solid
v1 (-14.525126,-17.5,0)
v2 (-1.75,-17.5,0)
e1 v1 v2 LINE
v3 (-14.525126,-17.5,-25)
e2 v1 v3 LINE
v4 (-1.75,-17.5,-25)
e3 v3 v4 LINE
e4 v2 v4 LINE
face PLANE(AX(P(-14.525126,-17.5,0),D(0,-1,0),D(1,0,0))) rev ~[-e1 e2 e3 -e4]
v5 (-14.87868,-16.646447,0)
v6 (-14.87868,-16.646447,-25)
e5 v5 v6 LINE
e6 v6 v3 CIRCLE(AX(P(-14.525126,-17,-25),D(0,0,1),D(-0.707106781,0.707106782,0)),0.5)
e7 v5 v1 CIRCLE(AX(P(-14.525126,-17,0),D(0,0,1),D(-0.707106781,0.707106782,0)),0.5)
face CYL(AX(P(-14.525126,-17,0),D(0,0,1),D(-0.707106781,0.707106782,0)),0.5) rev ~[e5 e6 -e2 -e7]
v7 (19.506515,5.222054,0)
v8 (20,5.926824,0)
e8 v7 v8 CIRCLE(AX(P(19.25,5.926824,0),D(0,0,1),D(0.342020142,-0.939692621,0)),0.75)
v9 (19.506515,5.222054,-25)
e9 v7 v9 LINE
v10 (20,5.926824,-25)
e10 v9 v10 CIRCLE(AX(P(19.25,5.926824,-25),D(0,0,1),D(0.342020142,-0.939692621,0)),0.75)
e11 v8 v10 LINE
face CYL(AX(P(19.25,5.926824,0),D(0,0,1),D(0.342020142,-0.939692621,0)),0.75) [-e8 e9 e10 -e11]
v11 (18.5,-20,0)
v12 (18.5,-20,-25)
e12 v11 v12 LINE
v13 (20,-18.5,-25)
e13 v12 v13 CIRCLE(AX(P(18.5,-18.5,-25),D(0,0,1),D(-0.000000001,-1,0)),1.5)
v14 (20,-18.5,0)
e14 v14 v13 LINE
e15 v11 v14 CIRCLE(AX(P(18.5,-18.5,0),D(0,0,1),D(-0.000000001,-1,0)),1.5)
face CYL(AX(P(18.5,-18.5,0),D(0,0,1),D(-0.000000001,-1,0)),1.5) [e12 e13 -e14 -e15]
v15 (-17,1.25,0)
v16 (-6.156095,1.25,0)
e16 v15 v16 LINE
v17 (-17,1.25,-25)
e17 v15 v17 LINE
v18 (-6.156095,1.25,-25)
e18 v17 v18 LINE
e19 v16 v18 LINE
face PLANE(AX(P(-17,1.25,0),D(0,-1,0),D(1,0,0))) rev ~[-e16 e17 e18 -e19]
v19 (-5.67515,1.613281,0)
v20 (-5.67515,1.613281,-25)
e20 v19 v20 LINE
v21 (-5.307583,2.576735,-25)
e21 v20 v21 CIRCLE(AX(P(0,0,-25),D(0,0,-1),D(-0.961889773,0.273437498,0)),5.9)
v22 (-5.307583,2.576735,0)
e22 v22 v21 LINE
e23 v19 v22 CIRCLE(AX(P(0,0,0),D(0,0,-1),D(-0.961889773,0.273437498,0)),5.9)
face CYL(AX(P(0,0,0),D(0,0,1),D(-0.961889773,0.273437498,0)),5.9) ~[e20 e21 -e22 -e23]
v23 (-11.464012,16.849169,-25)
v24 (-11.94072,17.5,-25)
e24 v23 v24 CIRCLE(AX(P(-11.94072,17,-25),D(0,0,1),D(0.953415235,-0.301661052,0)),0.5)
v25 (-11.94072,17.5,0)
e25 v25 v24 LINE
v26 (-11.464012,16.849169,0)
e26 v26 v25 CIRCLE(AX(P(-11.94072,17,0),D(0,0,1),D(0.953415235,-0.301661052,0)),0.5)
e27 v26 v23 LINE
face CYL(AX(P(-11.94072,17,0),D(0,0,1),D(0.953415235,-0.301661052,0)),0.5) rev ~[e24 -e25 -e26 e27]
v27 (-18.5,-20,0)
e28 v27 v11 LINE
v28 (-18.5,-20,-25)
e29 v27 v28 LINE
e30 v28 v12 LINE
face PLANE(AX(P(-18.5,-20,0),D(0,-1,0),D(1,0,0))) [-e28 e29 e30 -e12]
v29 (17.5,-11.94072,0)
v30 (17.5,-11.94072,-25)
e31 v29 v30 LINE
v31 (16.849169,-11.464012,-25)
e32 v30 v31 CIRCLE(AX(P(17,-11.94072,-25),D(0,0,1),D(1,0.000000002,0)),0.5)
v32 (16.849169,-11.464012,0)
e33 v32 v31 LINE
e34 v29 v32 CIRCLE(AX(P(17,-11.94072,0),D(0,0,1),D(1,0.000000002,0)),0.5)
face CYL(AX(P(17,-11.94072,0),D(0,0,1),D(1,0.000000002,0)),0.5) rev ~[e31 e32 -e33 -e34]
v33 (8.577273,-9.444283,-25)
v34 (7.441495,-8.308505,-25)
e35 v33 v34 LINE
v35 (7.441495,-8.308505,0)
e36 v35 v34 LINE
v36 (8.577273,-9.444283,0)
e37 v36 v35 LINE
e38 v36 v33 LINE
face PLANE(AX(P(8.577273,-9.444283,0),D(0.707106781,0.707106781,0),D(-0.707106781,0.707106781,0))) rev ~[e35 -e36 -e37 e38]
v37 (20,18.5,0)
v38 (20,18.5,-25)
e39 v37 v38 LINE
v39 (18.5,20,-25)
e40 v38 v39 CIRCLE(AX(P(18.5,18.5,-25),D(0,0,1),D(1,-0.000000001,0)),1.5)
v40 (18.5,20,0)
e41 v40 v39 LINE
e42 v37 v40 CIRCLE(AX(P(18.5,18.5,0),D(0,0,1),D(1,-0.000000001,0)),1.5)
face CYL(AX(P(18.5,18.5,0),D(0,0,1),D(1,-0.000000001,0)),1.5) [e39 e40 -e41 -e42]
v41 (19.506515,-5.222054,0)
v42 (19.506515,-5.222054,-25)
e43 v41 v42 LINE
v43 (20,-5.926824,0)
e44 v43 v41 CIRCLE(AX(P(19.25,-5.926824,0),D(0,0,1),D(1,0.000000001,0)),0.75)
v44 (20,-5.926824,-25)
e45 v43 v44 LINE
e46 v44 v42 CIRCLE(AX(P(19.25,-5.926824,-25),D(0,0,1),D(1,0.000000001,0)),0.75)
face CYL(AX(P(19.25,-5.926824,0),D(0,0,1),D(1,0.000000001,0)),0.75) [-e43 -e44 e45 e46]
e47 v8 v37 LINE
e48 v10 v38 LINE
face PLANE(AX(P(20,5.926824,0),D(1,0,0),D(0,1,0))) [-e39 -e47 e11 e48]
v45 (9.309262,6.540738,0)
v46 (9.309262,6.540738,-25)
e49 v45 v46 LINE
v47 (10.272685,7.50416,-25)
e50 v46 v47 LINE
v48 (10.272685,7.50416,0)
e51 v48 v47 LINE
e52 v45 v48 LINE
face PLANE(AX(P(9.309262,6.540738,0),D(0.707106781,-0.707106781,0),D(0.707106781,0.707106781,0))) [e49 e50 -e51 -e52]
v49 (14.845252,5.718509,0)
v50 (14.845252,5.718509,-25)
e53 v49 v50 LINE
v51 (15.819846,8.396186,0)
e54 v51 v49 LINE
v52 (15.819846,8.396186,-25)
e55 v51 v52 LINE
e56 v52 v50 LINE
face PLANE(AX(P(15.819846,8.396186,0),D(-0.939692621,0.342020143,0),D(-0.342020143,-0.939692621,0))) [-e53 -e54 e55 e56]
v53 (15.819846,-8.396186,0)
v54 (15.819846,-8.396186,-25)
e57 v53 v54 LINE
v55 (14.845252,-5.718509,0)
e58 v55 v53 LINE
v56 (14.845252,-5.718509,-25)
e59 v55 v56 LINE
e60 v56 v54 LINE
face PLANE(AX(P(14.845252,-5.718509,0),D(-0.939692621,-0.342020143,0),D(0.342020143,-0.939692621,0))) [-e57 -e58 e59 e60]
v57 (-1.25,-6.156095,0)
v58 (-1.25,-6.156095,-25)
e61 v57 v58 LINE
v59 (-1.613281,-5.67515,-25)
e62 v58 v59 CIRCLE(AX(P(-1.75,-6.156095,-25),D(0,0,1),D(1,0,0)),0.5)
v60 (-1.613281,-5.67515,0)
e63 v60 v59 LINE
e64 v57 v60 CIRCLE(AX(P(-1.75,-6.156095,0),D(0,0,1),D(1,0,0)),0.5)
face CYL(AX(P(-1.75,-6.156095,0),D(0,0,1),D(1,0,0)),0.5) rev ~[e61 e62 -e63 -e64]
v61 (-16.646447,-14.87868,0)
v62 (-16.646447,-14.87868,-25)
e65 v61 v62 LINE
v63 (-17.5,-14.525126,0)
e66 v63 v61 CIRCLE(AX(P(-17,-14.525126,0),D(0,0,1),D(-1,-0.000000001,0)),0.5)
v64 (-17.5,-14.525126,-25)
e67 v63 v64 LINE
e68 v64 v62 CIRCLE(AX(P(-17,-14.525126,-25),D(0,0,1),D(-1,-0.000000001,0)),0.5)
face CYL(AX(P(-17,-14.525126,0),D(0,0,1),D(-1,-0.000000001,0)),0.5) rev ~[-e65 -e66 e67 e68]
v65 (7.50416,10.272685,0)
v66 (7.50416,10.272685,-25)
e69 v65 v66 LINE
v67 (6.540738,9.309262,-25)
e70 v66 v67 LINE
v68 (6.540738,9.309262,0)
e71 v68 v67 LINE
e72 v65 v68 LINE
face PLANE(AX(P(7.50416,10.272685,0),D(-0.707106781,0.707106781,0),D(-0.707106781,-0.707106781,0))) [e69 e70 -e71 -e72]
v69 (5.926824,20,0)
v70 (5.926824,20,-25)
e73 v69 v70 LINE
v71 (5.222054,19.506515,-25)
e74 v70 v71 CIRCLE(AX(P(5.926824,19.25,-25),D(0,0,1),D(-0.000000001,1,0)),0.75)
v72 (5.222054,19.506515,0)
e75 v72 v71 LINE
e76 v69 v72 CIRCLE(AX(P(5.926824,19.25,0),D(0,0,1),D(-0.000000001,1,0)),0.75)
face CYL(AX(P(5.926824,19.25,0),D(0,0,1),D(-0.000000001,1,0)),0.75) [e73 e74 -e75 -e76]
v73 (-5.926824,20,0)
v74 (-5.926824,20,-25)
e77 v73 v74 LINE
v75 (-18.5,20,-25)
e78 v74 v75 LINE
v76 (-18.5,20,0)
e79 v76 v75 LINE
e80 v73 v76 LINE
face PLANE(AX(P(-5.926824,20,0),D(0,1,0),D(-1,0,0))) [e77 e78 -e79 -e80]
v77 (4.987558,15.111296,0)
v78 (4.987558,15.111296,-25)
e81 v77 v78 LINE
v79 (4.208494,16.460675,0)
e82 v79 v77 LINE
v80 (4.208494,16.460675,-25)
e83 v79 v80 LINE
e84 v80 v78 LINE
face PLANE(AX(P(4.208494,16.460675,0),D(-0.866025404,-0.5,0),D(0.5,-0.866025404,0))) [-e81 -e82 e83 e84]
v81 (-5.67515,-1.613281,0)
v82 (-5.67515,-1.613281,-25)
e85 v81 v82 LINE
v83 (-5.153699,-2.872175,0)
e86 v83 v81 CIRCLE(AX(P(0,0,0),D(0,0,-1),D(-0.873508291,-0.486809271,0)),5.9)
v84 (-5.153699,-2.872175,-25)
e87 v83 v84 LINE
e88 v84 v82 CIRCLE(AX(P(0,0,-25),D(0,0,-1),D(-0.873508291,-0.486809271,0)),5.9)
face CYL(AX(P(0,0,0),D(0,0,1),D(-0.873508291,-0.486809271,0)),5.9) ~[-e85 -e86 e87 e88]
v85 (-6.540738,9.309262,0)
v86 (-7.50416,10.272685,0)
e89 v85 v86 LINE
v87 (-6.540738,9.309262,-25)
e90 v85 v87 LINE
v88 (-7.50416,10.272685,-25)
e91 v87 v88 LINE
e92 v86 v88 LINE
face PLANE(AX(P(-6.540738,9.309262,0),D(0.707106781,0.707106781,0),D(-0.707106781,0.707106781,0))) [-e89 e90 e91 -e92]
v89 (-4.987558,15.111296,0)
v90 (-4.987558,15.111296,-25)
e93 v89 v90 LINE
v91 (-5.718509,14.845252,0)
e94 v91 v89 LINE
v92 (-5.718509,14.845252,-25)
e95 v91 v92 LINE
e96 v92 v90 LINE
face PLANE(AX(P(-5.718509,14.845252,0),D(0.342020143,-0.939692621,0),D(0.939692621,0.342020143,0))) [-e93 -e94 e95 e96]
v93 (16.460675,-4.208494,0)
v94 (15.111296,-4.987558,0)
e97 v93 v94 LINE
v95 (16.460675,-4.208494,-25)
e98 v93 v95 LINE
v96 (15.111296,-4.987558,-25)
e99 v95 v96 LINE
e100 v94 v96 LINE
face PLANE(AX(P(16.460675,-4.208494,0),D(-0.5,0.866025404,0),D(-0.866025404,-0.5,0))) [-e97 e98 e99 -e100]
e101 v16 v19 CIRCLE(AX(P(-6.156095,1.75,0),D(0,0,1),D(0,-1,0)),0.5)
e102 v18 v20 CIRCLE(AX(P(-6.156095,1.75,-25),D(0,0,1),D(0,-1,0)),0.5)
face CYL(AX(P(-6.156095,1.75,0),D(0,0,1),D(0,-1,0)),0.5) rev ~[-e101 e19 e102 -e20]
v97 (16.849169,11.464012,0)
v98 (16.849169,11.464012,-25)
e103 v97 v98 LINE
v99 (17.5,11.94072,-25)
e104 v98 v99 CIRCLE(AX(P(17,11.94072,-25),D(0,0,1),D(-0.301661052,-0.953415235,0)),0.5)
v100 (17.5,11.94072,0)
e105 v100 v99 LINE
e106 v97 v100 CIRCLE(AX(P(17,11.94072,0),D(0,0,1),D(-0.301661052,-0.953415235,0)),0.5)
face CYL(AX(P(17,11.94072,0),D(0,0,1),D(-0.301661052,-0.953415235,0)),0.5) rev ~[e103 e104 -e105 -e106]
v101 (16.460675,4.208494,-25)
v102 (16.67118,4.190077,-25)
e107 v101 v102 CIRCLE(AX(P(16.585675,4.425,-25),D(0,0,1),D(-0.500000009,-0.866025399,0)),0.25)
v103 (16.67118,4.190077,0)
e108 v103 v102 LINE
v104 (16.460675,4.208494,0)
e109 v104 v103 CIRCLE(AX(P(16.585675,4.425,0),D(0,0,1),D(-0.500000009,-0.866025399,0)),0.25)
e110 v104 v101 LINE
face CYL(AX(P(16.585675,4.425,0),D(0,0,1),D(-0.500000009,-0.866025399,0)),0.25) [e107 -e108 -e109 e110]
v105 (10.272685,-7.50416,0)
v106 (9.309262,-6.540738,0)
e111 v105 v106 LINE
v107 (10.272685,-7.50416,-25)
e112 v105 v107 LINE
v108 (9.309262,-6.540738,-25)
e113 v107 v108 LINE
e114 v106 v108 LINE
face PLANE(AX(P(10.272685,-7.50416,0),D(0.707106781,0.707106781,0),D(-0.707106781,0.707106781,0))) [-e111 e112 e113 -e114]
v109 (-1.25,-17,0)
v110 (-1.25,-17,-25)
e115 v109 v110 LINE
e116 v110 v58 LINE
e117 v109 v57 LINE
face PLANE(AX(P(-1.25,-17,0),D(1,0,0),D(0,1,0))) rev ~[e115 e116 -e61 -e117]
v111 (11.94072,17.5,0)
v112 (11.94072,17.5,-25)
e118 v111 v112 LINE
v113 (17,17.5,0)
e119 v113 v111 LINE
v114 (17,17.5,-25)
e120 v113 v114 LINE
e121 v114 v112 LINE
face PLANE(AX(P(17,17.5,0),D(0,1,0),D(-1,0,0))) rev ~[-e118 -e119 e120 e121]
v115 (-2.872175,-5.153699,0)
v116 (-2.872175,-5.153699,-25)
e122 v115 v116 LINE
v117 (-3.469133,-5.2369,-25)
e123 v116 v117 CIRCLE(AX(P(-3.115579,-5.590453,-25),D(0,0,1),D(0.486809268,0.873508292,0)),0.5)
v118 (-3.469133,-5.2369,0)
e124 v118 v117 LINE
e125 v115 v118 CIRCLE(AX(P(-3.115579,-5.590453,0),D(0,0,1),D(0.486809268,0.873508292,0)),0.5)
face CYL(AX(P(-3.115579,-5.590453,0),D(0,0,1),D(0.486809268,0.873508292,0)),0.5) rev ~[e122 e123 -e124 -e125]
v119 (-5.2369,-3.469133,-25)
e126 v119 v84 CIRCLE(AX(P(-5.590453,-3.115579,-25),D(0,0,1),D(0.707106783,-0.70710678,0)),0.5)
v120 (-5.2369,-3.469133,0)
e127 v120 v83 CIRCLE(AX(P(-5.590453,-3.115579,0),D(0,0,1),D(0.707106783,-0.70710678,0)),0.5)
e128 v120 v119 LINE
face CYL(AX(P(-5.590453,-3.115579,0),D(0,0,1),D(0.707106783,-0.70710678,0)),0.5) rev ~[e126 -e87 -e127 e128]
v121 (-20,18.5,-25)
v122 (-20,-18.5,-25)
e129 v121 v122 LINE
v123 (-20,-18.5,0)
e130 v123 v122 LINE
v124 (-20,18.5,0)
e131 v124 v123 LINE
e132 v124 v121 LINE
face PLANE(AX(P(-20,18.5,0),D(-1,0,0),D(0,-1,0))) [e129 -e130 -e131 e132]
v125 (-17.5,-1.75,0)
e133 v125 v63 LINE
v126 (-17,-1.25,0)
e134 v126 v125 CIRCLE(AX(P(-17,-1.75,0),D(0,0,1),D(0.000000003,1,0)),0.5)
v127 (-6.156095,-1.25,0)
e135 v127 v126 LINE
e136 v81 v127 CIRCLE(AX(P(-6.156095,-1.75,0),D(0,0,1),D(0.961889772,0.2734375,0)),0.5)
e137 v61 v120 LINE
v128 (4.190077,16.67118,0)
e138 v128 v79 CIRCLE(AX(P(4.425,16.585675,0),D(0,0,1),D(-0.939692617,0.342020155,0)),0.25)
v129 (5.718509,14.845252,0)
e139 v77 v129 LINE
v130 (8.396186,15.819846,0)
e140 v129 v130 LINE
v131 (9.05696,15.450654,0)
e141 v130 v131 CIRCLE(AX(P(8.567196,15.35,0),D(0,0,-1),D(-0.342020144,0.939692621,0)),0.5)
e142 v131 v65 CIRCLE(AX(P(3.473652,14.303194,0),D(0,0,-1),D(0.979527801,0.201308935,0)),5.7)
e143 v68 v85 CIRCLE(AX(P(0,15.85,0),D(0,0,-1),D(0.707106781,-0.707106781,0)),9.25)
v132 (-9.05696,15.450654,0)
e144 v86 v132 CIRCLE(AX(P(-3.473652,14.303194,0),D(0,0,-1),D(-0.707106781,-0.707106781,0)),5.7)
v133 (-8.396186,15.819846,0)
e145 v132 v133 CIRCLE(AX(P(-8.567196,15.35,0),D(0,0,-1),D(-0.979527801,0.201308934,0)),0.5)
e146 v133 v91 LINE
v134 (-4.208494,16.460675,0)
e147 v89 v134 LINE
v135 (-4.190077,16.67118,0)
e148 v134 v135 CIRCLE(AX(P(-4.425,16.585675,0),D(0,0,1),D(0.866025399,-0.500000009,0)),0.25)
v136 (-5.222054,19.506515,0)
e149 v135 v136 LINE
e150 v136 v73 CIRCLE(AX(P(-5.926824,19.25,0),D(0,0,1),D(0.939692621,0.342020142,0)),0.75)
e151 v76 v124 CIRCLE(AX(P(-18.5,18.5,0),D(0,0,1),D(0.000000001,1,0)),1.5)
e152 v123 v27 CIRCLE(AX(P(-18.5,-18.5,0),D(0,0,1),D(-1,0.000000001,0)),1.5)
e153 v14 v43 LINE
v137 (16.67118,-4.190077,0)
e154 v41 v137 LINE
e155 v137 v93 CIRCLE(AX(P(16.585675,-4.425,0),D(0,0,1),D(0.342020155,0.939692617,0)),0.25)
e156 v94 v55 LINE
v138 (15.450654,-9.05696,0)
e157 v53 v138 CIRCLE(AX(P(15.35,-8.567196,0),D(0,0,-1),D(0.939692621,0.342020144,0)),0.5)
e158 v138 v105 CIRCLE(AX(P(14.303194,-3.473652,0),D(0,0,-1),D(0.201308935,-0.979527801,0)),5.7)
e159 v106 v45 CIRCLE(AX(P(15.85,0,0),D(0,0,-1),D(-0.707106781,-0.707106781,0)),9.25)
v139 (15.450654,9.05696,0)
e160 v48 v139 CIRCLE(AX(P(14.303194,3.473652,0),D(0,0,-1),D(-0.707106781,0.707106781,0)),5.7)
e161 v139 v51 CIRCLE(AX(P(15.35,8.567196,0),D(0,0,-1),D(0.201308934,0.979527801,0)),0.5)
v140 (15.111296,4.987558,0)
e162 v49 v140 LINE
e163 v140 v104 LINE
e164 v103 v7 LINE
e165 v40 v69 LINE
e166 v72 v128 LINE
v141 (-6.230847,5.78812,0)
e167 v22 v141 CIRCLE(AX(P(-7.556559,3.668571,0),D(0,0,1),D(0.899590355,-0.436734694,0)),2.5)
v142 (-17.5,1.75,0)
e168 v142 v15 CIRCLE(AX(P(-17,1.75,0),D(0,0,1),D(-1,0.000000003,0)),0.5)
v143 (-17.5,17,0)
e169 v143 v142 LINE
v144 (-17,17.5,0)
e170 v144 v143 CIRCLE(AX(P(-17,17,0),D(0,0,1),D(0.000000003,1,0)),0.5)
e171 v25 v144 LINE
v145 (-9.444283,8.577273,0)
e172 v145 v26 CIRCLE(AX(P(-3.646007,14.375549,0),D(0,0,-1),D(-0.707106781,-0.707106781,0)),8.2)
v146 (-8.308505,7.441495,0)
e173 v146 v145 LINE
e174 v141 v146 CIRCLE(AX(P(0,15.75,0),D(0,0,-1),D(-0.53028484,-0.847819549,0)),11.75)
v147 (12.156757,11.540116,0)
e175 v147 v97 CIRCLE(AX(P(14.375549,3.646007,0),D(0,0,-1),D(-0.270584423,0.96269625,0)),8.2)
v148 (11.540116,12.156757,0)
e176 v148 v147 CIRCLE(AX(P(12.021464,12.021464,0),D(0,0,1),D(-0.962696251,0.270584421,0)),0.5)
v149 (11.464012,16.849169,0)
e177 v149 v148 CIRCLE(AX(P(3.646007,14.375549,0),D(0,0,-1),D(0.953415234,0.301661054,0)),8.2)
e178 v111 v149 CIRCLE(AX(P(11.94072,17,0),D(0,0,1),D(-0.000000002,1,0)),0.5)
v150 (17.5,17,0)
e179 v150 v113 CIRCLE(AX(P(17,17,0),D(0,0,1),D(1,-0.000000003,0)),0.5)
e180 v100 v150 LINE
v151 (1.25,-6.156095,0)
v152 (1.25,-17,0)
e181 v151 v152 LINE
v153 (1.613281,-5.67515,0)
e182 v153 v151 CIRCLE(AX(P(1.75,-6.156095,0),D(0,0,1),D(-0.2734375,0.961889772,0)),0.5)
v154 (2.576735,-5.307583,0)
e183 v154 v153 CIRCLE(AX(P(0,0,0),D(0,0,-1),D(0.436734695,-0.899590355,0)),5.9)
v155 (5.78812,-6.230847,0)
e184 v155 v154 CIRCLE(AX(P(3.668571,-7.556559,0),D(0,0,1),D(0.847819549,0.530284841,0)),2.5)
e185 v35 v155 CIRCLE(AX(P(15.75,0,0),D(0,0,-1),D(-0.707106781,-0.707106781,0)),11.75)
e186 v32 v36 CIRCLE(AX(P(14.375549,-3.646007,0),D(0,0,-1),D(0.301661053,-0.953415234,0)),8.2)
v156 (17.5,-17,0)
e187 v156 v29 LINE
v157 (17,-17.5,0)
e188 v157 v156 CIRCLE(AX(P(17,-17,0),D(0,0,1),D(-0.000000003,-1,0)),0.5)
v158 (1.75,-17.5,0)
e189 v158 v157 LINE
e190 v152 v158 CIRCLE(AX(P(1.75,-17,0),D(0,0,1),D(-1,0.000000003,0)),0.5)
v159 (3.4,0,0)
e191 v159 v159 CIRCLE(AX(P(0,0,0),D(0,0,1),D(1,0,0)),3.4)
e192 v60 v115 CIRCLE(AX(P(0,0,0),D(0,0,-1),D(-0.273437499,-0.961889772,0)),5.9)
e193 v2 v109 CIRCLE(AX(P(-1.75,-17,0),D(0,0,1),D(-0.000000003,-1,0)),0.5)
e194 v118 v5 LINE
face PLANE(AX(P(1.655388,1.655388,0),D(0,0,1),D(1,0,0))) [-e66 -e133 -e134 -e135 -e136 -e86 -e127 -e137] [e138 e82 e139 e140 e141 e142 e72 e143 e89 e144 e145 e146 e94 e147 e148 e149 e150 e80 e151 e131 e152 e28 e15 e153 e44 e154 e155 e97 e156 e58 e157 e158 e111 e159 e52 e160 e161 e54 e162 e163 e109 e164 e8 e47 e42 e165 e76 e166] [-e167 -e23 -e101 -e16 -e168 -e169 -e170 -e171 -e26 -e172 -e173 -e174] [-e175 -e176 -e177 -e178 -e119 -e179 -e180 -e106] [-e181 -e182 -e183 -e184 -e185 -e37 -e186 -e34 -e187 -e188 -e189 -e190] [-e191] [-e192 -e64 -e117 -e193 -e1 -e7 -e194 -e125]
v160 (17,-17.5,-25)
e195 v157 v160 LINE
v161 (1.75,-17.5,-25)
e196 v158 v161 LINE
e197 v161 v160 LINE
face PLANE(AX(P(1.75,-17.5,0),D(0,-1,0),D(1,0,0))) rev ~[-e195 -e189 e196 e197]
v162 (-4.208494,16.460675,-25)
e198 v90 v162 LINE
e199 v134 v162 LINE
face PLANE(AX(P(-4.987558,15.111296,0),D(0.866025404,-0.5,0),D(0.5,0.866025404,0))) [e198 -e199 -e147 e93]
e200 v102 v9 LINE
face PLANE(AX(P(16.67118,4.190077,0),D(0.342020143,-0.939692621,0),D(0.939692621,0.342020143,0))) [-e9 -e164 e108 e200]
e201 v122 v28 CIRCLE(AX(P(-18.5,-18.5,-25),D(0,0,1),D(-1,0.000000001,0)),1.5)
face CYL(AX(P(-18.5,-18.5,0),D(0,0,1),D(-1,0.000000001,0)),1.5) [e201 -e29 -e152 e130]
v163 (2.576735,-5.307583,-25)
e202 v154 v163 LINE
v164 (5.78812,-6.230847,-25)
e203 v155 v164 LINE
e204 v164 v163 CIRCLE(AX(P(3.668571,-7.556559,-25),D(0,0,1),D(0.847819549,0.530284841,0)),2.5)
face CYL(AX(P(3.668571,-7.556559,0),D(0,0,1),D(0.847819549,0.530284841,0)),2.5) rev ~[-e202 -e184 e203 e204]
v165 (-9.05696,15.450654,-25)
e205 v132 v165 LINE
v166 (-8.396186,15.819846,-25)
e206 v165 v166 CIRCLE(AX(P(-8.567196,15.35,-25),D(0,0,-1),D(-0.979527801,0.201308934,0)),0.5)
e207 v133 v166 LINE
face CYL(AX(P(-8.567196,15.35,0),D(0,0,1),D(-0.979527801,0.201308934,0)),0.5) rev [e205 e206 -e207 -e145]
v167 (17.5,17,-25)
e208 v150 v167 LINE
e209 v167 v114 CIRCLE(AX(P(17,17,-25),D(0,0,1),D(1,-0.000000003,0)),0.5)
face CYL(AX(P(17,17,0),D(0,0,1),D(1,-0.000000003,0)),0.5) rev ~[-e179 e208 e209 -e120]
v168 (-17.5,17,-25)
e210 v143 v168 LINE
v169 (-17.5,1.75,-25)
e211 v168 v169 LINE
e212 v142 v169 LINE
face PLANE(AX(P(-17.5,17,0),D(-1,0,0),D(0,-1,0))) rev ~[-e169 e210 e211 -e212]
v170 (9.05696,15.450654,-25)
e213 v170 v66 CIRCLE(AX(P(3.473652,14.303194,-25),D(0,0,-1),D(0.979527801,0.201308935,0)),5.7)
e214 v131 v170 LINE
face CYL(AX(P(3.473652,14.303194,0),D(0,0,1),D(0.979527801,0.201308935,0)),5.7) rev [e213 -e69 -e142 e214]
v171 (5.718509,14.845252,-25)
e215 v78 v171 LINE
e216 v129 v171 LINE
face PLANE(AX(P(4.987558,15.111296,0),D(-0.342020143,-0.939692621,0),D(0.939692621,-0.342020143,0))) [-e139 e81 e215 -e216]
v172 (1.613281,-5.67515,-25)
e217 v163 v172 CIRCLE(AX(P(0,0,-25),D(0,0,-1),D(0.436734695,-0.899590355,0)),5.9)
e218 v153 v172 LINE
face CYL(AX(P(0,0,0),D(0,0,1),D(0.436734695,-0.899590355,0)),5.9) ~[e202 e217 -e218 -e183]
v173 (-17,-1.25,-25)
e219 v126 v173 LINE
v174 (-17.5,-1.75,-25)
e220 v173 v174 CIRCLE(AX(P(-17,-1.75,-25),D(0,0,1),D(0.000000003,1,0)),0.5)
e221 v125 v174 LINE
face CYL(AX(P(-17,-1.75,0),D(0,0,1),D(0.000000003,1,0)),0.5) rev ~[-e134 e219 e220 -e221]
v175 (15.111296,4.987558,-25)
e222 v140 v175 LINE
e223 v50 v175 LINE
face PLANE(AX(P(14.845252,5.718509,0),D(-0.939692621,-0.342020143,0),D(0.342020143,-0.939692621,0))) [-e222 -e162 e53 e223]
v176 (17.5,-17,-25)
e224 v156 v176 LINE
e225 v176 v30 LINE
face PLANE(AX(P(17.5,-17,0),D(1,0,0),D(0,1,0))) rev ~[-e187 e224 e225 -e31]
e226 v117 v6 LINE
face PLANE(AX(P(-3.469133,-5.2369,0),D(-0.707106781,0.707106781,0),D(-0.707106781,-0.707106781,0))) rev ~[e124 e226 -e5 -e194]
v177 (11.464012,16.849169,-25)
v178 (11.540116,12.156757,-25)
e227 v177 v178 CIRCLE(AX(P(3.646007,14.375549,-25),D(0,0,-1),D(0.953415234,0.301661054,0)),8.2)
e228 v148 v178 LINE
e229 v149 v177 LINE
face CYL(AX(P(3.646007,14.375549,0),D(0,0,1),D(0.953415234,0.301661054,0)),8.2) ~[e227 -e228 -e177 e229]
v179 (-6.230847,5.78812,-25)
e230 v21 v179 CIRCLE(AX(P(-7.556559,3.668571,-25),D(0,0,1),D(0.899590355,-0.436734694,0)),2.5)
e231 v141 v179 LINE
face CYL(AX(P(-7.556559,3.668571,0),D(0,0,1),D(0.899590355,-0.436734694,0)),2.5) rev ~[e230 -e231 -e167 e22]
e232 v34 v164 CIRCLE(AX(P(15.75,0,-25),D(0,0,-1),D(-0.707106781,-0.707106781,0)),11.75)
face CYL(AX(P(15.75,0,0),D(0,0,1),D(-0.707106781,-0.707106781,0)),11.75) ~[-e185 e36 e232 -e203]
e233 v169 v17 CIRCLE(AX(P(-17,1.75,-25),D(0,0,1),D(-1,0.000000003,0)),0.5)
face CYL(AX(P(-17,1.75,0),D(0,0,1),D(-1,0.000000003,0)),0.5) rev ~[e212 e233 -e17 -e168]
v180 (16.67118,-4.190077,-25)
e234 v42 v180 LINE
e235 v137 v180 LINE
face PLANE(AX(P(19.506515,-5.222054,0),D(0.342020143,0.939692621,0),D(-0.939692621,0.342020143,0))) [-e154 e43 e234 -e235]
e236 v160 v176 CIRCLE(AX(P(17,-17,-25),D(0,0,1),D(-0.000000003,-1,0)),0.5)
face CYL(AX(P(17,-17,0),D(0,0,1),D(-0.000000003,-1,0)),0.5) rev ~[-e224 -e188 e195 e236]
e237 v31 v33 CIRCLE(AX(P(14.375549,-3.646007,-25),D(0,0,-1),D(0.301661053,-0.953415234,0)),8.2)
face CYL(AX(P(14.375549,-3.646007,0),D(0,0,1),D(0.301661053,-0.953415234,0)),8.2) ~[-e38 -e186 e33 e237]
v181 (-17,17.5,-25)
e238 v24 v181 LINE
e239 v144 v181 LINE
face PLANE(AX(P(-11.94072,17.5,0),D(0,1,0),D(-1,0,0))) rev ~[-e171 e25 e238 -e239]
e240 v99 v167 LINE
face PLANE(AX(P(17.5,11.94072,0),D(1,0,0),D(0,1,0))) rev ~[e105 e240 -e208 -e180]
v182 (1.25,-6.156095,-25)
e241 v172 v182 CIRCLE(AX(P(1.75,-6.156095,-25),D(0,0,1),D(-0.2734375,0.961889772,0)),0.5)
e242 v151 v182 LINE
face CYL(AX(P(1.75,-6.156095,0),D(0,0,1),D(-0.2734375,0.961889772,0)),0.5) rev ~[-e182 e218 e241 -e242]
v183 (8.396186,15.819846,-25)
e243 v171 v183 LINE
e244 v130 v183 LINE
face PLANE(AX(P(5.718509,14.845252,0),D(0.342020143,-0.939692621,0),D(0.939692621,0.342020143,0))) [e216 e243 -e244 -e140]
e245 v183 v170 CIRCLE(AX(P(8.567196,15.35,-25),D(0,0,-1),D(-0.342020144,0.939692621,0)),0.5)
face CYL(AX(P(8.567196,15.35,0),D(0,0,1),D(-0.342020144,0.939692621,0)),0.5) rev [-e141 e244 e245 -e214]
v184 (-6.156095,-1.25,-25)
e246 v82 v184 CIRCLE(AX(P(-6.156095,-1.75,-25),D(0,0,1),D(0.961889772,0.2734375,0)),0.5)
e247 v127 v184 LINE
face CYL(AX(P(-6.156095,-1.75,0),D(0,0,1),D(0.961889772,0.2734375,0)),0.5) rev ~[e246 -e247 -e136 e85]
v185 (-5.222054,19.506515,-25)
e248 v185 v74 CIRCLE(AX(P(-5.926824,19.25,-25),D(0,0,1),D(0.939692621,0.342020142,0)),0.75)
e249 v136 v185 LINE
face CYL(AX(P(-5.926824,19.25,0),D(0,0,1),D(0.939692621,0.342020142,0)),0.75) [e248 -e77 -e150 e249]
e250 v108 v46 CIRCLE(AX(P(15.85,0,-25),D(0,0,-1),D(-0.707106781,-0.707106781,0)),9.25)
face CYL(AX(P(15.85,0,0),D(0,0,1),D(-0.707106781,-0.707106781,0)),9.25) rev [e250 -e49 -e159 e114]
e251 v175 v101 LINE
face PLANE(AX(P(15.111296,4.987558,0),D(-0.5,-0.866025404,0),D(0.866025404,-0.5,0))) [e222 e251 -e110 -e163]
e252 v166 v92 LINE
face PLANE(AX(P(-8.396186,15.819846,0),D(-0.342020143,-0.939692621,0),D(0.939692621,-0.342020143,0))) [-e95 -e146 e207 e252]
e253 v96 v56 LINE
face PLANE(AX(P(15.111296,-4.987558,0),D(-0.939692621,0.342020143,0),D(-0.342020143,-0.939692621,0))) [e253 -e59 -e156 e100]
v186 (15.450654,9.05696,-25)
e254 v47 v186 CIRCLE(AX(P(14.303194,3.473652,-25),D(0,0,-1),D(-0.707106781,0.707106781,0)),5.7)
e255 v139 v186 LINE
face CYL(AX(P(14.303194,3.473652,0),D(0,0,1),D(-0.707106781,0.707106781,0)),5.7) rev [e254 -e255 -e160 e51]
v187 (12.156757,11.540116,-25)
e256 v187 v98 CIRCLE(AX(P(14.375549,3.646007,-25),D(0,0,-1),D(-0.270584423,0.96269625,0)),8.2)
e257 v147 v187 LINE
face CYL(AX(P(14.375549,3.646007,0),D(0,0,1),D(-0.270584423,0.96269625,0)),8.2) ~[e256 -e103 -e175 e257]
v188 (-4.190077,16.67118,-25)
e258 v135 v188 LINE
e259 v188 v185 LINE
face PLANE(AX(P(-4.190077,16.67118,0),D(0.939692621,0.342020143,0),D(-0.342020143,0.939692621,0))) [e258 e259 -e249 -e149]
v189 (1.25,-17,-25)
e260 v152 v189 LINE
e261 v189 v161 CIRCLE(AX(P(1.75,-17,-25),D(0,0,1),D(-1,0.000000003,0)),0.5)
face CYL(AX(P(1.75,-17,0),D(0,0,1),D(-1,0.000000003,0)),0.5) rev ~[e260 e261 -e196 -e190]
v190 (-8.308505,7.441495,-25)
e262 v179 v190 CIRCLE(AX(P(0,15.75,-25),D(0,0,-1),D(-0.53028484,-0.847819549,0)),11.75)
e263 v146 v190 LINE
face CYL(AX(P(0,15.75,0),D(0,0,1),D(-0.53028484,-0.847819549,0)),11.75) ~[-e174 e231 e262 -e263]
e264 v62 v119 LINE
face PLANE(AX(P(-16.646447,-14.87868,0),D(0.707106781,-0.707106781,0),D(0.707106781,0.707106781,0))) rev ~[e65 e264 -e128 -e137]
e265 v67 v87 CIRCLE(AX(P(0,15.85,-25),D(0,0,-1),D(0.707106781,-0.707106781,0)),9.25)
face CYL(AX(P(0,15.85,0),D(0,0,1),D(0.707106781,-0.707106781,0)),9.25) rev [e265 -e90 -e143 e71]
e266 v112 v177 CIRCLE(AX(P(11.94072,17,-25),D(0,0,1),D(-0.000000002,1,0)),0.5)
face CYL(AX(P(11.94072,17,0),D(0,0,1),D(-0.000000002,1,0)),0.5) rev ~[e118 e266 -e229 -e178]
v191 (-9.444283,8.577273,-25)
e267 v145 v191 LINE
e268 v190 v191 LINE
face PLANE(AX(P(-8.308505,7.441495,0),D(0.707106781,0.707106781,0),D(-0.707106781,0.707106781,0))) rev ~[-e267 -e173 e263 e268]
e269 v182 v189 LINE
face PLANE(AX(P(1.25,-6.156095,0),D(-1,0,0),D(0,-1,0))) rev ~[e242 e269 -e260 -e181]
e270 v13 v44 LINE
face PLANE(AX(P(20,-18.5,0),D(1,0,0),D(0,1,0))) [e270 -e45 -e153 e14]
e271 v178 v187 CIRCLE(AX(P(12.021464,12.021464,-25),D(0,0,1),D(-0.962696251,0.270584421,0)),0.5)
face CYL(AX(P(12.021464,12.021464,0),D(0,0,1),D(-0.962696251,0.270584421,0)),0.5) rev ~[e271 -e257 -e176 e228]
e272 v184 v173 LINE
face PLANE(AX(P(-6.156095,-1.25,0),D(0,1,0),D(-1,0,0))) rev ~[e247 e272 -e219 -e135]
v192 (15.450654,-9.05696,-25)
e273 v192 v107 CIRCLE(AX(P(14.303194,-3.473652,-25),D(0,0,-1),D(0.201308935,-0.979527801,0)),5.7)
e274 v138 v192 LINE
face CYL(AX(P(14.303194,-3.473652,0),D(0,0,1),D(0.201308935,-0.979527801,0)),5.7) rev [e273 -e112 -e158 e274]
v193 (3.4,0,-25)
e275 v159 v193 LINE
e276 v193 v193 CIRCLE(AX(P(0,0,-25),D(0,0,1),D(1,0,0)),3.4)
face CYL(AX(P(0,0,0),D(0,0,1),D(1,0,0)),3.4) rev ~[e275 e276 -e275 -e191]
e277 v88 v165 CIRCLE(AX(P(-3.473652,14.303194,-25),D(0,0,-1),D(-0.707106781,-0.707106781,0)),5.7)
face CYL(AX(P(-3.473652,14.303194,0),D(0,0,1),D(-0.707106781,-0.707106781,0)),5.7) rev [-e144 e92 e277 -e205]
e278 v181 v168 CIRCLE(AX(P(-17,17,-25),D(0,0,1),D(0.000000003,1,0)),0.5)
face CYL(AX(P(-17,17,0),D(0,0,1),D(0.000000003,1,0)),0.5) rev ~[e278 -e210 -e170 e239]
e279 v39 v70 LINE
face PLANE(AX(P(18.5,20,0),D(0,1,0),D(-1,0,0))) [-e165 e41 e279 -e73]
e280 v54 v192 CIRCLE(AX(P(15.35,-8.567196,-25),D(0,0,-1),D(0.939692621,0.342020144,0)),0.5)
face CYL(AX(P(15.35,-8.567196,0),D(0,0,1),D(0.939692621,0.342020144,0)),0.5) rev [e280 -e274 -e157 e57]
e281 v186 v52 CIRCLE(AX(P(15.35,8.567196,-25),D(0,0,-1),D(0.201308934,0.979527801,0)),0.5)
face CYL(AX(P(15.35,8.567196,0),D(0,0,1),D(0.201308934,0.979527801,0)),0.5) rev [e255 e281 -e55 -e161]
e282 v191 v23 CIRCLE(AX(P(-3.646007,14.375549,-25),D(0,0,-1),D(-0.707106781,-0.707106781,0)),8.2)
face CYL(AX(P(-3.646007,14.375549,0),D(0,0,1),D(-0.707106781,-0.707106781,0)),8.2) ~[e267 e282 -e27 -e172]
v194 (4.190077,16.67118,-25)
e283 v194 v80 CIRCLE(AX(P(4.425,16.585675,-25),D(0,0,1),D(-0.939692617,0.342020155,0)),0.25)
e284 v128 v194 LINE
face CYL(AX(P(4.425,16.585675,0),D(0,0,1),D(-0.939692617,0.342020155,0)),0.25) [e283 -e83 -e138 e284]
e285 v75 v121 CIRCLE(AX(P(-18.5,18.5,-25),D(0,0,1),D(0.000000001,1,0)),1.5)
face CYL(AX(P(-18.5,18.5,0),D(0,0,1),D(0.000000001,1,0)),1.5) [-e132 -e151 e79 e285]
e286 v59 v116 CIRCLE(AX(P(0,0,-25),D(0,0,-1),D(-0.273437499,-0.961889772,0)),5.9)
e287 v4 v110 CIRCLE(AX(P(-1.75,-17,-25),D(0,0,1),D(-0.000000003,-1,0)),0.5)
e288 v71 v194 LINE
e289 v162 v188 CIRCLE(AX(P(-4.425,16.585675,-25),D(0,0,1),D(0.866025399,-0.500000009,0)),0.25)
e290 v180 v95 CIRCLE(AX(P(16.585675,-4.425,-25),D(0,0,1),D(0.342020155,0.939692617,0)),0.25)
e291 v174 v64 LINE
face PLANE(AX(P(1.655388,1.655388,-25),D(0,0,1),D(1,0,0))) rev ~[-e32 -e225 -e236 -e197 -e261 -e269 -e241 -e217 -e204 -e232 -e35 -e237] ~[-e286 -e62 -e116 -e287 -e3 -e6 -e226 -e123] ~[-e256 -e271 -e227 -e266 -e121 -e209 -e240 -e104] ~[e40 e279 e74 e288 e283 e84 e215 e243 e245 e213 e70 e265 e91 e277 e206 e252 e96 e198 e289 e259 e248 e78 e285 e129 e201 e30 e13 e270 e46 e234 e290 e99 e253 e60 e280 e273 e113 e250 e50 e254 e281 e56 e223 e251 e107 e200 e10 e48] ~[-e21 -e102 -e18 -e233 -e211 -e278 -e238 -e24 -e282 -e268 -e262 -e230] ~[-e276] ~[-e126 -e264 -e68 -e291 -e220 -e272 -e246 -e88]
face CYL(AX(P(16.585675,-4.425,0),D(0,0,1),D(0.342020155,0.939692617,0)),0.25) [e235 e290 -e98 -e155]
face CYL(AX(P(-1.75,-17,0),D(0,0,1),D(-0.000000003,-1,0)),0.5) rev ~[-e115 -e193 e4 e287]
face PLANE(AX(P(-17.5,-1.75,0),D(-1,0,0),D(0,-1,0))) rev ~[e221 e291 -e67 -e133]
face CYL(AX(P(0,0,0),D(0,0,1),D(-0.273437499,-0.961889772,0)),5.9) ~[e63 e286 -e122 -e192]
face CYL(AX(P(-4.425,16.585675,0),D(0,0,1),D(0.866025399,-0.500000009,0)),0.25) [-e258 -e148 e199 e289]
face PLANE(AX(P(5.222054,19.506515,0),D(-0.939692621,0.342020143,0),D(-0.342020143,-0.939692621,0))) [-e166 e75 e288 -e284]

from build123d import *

# Parameters (mm, degrees)
SK_MAIN_EXTRUSION_R  = 3.4
MAIN_EXTRUSION_DEPTH = 25


with BuildPart() as part:
    # Sk Main Extrusion → Main Extrusion (new body)
    with BuildSketch(Plane.XY):
        with BuildLine():
            Line((16.671180212, 4.190076845), (19.506515107, 5.222054351))
            ThreePointArc((19.506515107, 5.222054351), (19.864364033, 5.496641489), (20, 5.926823816))
            Line((20, 5.926823816), (20, 18.5))
            ThreePointArc((20, 18.5), (19.560660172, 19.560660172), (18.5, 20))
            Line((18.5, 20), (5.926823816, 20))
            ThreePointArc((5.926823816, 20), (5.496641489, 19.864364033), (5.222054351, 19.506515107))
            Line((5.222054351, 19.506515107), (4.190076845, 16.671180212))
            ThreePointArc((4.190076845, 16.671180212), (4.175951325, 16.563886241), (4.208493649, 16.460675177))
            Line((4.208493649, 16.460675177), (4.987558066, 15.111296024))
            Line((4.987558066, 15.111296024), (5.718509166, 14.845251581))
            Line((5.718509166, 14.845251581), (8.396186179, 15.81984631))
            ThreePointArc((8.396186179, 15.81984631), (8.811074612, 15.786489799), (9.056960151, 15.450654467))
            ThreePointArc((9.056960151, 15.450654467), (8.933433013, 12.665882372), (7.504160339, 10.272684887))
            Line((7.504160339, 10.272684887), (6.540737726, 9.309262274))
            ThreePointArc((6.540737726, 9.309262274), (0, 6.6), (-6.540737726, 9.309262274))
            Line((-6.540737726, 9.309262274), (-7.504160339, 10.272684887))
            ThreePointArc((-7.504160339, 10.272684887), (-8.933433013, 12.665882372), (-9.056960151, 15.450654467))
            ThreePointArc((-9.056960151, 15.450654467), (-8.811074612, 15.786489799), (-8.396186179, 15.81984631))
            Line((-8.396186179, 15.81984631), (-5.718509166, 14.845251581))
            Line((-5.718509166, 14.845251581), (-4.987558066, 15.111296024))
            Line((-4.987558066, 15.111296024), (-4.208493649, 16.460675177))
            ThreePointArc((-4.208493649, 16.460675177), (-4.175951325, 16.563886241), (-4.190076845, 16.671180212))
            Line((-4.190076845, 16.671180212), (-5.222054351, 19.506515107))
            ThreePointArc((-5.222054351, 19.506515107), (-5.496641489, 19.864364033), (-5.926823816, 20))
            Line((-5.926823816, 20), (-18.5, 20))
            ThreePointArc((-18.5, 20), (-19.560660172, 19.560660172), (-20, 18.5))
            Line((-20, 18.5), (-20, -18.5))
            ThreePointArc((-20, -18.5), (-19.560660172, -19.560660172), (-18.5, -20))
            Line((-18.5, -20), (18.5, -20))
            ThreePointArc((18.5, -20), (19.560660172, -19.560660172), (20, -18.5))
            Line((20, -18.5), (20, -5.926823816))
            ThreePointArc((20, -5.926823816), (19.864364033, -5.496641489), (19.506515107, -5.222054351))
            Line((19.506515107, -5.222054351), (16.671180212, -4.190076845))
            ThreePointArc((16.671180212, -4.190076845), (16.563886241, -4.175951325), (16.460675177, -4.208493649))
            Line((16.460675177, -4.208493649), (15.111296024, -4.987558066))
            Line((15.111296024, -4.987558066), (14.845251581, -5.718509166))
            Line((14.845251581, -5.718509166), (15.81984631, -8.396186179))
            ThreePointArc((15.81984631, -8.396186179), (15.786489799, -8.811074612), (15.450654467, -9.056960151))
            ThreePointArc((15.450654467, -9.056960151), (12.665882372, -8.933433013), (10.272684887, -7.504160339))
            Line((10.272684887, -7.504160339), (9.309262274, -6.540737726))
            ThreePointArc((9.309262274, -6.540737726), (6.6, 0), (9.309262274, 6.540737726))
            Line((9.309262274, 6.540737726), (10.272684887, 7.504160339))
            ThreePointArc((10.272684887, 7.504160339), (12.665882372, 8.933433013), (15.450654467, 9.056960151))
            ThreePointArc((15.450654467, 9.056960151), (15.786489799, 8.811074612), (15.81984631, 8.396186179))
            Line((15.81984631, 8.396186179), (14.845251581, 5.718509166))
            Line((14.845251581, 5.718509166), (15.111296024, 4.987558066))
            Line((15.111296024, 4.987558066), (16.460675177, 4.208493649))
            ThreePointArc((16.460675177, 4.208493649), (16.563886241, 4.175951325), (16.671180212, 4.190076845))
        make_face()
        Circle(SK_MAIN_EXTRUSION_R, mode=Mode.SUBTRACT)
        with BuildLine():
            Line((-8.308504679, 7.441495321), (-9.444282589, 8.577273231))
            ThreePointArc((-9.444282589, 8.577273231), (-11.611987193, 12.430514315), (-11.464011904, 16.849169473))
            ThreePointArc((-11.464011904, 16.849169473), (-11.537349181, 17.295452819), (-11.940719521, 17.5))
            Line((-11.940719521, 17.5), (-17, 17.5))
            ThreePointArc((-17, 17.5), (-17.353553391, 17.353553391), (-17.5, 17))
            Line((-17.5, 17), (-17.5, 1.75))
            ThreePointArc((-17.5, 1.75), (-17.353553391, 1.396446609), (-17, 1.25))
            Line((-17, 1.25), (-6.156094541, 1.25))
            ThreePointArc((-6.156094541, 1.25), (-5.854730455, 1.351026708), (-5.675149655, 1.61328125))
            ThreePointArc((-5.675149655, 1.61328125), (-5.51245547, 2.10305366), (-5.307583096, 2.576734694))
            ThreePointArc((-5.307583096, 2.576734694), (-5.153883821, 4.359333373), (-6.230846881, 5.788120301))
            ThreePointArc((-6.230846881, 5.788120301), (-7.316529108, 6.555931161), (-8.308504679, 7.441495321))
        make_face(mode=Mode.SUBTRACT)
        with BuildLine():
            Line((17.5, 11.940719521), (17.5, 17))
            ThreePointArc((17.5, 17), (17.353553391, 17.353553391), (17, 17.5))
            Line((17, 17.5), (11.940719521, 17.5))
            ThreePointArc((11.940719521, 17.5), (11.537349181, 17.295452819), (11.464011904, 16.849169473))
            ThreePointArc((11.464011904, 16.849169473), (11.844928721, 14.508523804), (11.540116235, 12.156756572))
            ThreePointArc((11.540116235, 12.156756572), (11.66791097, 11.66791097), (12.156756572, 11.540116235))
            ThreePointArc((12.156756572, 11.540116235), (14.508523804, 11.844928721), (16.849169473, 11.464011904))
            ThreePointArc((16.849169473, 11.464011904), (17.295452819, 11.537349181), (17.5, 11.940719521))
        make_face(mode=Mode.SUBTRACT)
        with BuildLine():
            Line((-17.5, -1.75), (-17.5, -14.525126266))
            ThreePointArc((-17.5, -14.525126266), (-17.191341716, -14.987066032), (-16.646446609, -14.878679656))
            Line((-16.646446609, -14.878679656), (-5.236899672, -3.469132719))
            ThreePointArc((-5.236899672, -3.469132719), (-5.095239754, -3.18459946), (-5.153698917, -2.872174694))
            ThreePointArc((-5.153698917, -2.872174694), (-5.450889242, -2.257832251), (-5.675149655, -1.61328125))
            ThreePointArc((-5.675149655, -1.61328125), (-5.854730455, -1.351026708), (-6.156094541, -1.25))
            Line((-6.156094541, -1.25), (-17, -1.25))
            ThreePointArc((-17, -1.25), (-17.353553391, -1.396446609), (-17.5, -1.75))
        make_face(mode=Mode.SUBTRACT)
        with BuildLine():
            Line((-14.525126266, -17.5), (-1.75, -17.5))
            ThreePointArc((-1.75, -17.5), (-1.396446609, -17.353553391), (-1.25, -17))
            Line((-1.25, -17), (-1.25, -6.156094541))
            ThreePointArc((-1.25, -6.156094541), (-1.351026708, -5.854730455), (-1.61328125, -5.675149655))
            ThreePointArc((-1.61328125, -5.675149655), (-2.257832251, -5.450889242), (-2.872174694, -5.153698917))
            ThreePointArc((-2.872174694, -5.153698917), (-3.18459946, -5.095239754), (-3.469132719, -5.236899672))
            Line((-3.469132719, -5.236899672), (-14.878679656, -16.646446609))
            ThreePointArc((-14.878679656, -16.646446609), (-14.987066032, -17.191341716), (-14.525126266, -17.5))
        make_face(mode=Mode.SUBTRACT)
        with BuildLine():
            Line((1.75, -17.5), (17, -17.5))
            ThreePointArc((17, -17.5), (17.353553391, -17.353553391), (17.5, -17))
            Line((17.5, -17), (17.5, -11.940719521))
            ThreePointArc((17.5, -11.940719521), (17.295452819, -11.537349181), (16.849169473, -11.464011904))
            ThreePointArc((16.849169473, -11.464011904), (12.430514315, -11.611987193), (8.577273231, -9.444282589))
            Line((8.577273231, -9.444282589), (7.441495321, -8.308504679))
            ThreePointArc((7.441495321, -8.308504679), (6.555931161, -7.316529108), (5.788120301, -6.230846881))
            ThreePointArc((5.788120301, -6.230846881), (4.359333373, -5.153883821), (2.576734694, -5.307583096))
            ThreePointArc((2.576734694, -5.307583096), (2.10305366, -5.51245547), (1.61328125, -5.675149655))
            ThreePointArc((1.61328125, -5.675149655), (1.351026708, -5.854730455), (1.25, -6.156094541))
            Line((1.25, -6.156094541), (1.25, -17))
            ThreePointArc((1.25, -17), (1.396446609, -17.353553391), (1.75, -17.5))
        make_face(mode=Mode.SUBTRACT)
    extrude(amount=-MAIN_EXTRUSION_DEPTH)


solid = part.part
